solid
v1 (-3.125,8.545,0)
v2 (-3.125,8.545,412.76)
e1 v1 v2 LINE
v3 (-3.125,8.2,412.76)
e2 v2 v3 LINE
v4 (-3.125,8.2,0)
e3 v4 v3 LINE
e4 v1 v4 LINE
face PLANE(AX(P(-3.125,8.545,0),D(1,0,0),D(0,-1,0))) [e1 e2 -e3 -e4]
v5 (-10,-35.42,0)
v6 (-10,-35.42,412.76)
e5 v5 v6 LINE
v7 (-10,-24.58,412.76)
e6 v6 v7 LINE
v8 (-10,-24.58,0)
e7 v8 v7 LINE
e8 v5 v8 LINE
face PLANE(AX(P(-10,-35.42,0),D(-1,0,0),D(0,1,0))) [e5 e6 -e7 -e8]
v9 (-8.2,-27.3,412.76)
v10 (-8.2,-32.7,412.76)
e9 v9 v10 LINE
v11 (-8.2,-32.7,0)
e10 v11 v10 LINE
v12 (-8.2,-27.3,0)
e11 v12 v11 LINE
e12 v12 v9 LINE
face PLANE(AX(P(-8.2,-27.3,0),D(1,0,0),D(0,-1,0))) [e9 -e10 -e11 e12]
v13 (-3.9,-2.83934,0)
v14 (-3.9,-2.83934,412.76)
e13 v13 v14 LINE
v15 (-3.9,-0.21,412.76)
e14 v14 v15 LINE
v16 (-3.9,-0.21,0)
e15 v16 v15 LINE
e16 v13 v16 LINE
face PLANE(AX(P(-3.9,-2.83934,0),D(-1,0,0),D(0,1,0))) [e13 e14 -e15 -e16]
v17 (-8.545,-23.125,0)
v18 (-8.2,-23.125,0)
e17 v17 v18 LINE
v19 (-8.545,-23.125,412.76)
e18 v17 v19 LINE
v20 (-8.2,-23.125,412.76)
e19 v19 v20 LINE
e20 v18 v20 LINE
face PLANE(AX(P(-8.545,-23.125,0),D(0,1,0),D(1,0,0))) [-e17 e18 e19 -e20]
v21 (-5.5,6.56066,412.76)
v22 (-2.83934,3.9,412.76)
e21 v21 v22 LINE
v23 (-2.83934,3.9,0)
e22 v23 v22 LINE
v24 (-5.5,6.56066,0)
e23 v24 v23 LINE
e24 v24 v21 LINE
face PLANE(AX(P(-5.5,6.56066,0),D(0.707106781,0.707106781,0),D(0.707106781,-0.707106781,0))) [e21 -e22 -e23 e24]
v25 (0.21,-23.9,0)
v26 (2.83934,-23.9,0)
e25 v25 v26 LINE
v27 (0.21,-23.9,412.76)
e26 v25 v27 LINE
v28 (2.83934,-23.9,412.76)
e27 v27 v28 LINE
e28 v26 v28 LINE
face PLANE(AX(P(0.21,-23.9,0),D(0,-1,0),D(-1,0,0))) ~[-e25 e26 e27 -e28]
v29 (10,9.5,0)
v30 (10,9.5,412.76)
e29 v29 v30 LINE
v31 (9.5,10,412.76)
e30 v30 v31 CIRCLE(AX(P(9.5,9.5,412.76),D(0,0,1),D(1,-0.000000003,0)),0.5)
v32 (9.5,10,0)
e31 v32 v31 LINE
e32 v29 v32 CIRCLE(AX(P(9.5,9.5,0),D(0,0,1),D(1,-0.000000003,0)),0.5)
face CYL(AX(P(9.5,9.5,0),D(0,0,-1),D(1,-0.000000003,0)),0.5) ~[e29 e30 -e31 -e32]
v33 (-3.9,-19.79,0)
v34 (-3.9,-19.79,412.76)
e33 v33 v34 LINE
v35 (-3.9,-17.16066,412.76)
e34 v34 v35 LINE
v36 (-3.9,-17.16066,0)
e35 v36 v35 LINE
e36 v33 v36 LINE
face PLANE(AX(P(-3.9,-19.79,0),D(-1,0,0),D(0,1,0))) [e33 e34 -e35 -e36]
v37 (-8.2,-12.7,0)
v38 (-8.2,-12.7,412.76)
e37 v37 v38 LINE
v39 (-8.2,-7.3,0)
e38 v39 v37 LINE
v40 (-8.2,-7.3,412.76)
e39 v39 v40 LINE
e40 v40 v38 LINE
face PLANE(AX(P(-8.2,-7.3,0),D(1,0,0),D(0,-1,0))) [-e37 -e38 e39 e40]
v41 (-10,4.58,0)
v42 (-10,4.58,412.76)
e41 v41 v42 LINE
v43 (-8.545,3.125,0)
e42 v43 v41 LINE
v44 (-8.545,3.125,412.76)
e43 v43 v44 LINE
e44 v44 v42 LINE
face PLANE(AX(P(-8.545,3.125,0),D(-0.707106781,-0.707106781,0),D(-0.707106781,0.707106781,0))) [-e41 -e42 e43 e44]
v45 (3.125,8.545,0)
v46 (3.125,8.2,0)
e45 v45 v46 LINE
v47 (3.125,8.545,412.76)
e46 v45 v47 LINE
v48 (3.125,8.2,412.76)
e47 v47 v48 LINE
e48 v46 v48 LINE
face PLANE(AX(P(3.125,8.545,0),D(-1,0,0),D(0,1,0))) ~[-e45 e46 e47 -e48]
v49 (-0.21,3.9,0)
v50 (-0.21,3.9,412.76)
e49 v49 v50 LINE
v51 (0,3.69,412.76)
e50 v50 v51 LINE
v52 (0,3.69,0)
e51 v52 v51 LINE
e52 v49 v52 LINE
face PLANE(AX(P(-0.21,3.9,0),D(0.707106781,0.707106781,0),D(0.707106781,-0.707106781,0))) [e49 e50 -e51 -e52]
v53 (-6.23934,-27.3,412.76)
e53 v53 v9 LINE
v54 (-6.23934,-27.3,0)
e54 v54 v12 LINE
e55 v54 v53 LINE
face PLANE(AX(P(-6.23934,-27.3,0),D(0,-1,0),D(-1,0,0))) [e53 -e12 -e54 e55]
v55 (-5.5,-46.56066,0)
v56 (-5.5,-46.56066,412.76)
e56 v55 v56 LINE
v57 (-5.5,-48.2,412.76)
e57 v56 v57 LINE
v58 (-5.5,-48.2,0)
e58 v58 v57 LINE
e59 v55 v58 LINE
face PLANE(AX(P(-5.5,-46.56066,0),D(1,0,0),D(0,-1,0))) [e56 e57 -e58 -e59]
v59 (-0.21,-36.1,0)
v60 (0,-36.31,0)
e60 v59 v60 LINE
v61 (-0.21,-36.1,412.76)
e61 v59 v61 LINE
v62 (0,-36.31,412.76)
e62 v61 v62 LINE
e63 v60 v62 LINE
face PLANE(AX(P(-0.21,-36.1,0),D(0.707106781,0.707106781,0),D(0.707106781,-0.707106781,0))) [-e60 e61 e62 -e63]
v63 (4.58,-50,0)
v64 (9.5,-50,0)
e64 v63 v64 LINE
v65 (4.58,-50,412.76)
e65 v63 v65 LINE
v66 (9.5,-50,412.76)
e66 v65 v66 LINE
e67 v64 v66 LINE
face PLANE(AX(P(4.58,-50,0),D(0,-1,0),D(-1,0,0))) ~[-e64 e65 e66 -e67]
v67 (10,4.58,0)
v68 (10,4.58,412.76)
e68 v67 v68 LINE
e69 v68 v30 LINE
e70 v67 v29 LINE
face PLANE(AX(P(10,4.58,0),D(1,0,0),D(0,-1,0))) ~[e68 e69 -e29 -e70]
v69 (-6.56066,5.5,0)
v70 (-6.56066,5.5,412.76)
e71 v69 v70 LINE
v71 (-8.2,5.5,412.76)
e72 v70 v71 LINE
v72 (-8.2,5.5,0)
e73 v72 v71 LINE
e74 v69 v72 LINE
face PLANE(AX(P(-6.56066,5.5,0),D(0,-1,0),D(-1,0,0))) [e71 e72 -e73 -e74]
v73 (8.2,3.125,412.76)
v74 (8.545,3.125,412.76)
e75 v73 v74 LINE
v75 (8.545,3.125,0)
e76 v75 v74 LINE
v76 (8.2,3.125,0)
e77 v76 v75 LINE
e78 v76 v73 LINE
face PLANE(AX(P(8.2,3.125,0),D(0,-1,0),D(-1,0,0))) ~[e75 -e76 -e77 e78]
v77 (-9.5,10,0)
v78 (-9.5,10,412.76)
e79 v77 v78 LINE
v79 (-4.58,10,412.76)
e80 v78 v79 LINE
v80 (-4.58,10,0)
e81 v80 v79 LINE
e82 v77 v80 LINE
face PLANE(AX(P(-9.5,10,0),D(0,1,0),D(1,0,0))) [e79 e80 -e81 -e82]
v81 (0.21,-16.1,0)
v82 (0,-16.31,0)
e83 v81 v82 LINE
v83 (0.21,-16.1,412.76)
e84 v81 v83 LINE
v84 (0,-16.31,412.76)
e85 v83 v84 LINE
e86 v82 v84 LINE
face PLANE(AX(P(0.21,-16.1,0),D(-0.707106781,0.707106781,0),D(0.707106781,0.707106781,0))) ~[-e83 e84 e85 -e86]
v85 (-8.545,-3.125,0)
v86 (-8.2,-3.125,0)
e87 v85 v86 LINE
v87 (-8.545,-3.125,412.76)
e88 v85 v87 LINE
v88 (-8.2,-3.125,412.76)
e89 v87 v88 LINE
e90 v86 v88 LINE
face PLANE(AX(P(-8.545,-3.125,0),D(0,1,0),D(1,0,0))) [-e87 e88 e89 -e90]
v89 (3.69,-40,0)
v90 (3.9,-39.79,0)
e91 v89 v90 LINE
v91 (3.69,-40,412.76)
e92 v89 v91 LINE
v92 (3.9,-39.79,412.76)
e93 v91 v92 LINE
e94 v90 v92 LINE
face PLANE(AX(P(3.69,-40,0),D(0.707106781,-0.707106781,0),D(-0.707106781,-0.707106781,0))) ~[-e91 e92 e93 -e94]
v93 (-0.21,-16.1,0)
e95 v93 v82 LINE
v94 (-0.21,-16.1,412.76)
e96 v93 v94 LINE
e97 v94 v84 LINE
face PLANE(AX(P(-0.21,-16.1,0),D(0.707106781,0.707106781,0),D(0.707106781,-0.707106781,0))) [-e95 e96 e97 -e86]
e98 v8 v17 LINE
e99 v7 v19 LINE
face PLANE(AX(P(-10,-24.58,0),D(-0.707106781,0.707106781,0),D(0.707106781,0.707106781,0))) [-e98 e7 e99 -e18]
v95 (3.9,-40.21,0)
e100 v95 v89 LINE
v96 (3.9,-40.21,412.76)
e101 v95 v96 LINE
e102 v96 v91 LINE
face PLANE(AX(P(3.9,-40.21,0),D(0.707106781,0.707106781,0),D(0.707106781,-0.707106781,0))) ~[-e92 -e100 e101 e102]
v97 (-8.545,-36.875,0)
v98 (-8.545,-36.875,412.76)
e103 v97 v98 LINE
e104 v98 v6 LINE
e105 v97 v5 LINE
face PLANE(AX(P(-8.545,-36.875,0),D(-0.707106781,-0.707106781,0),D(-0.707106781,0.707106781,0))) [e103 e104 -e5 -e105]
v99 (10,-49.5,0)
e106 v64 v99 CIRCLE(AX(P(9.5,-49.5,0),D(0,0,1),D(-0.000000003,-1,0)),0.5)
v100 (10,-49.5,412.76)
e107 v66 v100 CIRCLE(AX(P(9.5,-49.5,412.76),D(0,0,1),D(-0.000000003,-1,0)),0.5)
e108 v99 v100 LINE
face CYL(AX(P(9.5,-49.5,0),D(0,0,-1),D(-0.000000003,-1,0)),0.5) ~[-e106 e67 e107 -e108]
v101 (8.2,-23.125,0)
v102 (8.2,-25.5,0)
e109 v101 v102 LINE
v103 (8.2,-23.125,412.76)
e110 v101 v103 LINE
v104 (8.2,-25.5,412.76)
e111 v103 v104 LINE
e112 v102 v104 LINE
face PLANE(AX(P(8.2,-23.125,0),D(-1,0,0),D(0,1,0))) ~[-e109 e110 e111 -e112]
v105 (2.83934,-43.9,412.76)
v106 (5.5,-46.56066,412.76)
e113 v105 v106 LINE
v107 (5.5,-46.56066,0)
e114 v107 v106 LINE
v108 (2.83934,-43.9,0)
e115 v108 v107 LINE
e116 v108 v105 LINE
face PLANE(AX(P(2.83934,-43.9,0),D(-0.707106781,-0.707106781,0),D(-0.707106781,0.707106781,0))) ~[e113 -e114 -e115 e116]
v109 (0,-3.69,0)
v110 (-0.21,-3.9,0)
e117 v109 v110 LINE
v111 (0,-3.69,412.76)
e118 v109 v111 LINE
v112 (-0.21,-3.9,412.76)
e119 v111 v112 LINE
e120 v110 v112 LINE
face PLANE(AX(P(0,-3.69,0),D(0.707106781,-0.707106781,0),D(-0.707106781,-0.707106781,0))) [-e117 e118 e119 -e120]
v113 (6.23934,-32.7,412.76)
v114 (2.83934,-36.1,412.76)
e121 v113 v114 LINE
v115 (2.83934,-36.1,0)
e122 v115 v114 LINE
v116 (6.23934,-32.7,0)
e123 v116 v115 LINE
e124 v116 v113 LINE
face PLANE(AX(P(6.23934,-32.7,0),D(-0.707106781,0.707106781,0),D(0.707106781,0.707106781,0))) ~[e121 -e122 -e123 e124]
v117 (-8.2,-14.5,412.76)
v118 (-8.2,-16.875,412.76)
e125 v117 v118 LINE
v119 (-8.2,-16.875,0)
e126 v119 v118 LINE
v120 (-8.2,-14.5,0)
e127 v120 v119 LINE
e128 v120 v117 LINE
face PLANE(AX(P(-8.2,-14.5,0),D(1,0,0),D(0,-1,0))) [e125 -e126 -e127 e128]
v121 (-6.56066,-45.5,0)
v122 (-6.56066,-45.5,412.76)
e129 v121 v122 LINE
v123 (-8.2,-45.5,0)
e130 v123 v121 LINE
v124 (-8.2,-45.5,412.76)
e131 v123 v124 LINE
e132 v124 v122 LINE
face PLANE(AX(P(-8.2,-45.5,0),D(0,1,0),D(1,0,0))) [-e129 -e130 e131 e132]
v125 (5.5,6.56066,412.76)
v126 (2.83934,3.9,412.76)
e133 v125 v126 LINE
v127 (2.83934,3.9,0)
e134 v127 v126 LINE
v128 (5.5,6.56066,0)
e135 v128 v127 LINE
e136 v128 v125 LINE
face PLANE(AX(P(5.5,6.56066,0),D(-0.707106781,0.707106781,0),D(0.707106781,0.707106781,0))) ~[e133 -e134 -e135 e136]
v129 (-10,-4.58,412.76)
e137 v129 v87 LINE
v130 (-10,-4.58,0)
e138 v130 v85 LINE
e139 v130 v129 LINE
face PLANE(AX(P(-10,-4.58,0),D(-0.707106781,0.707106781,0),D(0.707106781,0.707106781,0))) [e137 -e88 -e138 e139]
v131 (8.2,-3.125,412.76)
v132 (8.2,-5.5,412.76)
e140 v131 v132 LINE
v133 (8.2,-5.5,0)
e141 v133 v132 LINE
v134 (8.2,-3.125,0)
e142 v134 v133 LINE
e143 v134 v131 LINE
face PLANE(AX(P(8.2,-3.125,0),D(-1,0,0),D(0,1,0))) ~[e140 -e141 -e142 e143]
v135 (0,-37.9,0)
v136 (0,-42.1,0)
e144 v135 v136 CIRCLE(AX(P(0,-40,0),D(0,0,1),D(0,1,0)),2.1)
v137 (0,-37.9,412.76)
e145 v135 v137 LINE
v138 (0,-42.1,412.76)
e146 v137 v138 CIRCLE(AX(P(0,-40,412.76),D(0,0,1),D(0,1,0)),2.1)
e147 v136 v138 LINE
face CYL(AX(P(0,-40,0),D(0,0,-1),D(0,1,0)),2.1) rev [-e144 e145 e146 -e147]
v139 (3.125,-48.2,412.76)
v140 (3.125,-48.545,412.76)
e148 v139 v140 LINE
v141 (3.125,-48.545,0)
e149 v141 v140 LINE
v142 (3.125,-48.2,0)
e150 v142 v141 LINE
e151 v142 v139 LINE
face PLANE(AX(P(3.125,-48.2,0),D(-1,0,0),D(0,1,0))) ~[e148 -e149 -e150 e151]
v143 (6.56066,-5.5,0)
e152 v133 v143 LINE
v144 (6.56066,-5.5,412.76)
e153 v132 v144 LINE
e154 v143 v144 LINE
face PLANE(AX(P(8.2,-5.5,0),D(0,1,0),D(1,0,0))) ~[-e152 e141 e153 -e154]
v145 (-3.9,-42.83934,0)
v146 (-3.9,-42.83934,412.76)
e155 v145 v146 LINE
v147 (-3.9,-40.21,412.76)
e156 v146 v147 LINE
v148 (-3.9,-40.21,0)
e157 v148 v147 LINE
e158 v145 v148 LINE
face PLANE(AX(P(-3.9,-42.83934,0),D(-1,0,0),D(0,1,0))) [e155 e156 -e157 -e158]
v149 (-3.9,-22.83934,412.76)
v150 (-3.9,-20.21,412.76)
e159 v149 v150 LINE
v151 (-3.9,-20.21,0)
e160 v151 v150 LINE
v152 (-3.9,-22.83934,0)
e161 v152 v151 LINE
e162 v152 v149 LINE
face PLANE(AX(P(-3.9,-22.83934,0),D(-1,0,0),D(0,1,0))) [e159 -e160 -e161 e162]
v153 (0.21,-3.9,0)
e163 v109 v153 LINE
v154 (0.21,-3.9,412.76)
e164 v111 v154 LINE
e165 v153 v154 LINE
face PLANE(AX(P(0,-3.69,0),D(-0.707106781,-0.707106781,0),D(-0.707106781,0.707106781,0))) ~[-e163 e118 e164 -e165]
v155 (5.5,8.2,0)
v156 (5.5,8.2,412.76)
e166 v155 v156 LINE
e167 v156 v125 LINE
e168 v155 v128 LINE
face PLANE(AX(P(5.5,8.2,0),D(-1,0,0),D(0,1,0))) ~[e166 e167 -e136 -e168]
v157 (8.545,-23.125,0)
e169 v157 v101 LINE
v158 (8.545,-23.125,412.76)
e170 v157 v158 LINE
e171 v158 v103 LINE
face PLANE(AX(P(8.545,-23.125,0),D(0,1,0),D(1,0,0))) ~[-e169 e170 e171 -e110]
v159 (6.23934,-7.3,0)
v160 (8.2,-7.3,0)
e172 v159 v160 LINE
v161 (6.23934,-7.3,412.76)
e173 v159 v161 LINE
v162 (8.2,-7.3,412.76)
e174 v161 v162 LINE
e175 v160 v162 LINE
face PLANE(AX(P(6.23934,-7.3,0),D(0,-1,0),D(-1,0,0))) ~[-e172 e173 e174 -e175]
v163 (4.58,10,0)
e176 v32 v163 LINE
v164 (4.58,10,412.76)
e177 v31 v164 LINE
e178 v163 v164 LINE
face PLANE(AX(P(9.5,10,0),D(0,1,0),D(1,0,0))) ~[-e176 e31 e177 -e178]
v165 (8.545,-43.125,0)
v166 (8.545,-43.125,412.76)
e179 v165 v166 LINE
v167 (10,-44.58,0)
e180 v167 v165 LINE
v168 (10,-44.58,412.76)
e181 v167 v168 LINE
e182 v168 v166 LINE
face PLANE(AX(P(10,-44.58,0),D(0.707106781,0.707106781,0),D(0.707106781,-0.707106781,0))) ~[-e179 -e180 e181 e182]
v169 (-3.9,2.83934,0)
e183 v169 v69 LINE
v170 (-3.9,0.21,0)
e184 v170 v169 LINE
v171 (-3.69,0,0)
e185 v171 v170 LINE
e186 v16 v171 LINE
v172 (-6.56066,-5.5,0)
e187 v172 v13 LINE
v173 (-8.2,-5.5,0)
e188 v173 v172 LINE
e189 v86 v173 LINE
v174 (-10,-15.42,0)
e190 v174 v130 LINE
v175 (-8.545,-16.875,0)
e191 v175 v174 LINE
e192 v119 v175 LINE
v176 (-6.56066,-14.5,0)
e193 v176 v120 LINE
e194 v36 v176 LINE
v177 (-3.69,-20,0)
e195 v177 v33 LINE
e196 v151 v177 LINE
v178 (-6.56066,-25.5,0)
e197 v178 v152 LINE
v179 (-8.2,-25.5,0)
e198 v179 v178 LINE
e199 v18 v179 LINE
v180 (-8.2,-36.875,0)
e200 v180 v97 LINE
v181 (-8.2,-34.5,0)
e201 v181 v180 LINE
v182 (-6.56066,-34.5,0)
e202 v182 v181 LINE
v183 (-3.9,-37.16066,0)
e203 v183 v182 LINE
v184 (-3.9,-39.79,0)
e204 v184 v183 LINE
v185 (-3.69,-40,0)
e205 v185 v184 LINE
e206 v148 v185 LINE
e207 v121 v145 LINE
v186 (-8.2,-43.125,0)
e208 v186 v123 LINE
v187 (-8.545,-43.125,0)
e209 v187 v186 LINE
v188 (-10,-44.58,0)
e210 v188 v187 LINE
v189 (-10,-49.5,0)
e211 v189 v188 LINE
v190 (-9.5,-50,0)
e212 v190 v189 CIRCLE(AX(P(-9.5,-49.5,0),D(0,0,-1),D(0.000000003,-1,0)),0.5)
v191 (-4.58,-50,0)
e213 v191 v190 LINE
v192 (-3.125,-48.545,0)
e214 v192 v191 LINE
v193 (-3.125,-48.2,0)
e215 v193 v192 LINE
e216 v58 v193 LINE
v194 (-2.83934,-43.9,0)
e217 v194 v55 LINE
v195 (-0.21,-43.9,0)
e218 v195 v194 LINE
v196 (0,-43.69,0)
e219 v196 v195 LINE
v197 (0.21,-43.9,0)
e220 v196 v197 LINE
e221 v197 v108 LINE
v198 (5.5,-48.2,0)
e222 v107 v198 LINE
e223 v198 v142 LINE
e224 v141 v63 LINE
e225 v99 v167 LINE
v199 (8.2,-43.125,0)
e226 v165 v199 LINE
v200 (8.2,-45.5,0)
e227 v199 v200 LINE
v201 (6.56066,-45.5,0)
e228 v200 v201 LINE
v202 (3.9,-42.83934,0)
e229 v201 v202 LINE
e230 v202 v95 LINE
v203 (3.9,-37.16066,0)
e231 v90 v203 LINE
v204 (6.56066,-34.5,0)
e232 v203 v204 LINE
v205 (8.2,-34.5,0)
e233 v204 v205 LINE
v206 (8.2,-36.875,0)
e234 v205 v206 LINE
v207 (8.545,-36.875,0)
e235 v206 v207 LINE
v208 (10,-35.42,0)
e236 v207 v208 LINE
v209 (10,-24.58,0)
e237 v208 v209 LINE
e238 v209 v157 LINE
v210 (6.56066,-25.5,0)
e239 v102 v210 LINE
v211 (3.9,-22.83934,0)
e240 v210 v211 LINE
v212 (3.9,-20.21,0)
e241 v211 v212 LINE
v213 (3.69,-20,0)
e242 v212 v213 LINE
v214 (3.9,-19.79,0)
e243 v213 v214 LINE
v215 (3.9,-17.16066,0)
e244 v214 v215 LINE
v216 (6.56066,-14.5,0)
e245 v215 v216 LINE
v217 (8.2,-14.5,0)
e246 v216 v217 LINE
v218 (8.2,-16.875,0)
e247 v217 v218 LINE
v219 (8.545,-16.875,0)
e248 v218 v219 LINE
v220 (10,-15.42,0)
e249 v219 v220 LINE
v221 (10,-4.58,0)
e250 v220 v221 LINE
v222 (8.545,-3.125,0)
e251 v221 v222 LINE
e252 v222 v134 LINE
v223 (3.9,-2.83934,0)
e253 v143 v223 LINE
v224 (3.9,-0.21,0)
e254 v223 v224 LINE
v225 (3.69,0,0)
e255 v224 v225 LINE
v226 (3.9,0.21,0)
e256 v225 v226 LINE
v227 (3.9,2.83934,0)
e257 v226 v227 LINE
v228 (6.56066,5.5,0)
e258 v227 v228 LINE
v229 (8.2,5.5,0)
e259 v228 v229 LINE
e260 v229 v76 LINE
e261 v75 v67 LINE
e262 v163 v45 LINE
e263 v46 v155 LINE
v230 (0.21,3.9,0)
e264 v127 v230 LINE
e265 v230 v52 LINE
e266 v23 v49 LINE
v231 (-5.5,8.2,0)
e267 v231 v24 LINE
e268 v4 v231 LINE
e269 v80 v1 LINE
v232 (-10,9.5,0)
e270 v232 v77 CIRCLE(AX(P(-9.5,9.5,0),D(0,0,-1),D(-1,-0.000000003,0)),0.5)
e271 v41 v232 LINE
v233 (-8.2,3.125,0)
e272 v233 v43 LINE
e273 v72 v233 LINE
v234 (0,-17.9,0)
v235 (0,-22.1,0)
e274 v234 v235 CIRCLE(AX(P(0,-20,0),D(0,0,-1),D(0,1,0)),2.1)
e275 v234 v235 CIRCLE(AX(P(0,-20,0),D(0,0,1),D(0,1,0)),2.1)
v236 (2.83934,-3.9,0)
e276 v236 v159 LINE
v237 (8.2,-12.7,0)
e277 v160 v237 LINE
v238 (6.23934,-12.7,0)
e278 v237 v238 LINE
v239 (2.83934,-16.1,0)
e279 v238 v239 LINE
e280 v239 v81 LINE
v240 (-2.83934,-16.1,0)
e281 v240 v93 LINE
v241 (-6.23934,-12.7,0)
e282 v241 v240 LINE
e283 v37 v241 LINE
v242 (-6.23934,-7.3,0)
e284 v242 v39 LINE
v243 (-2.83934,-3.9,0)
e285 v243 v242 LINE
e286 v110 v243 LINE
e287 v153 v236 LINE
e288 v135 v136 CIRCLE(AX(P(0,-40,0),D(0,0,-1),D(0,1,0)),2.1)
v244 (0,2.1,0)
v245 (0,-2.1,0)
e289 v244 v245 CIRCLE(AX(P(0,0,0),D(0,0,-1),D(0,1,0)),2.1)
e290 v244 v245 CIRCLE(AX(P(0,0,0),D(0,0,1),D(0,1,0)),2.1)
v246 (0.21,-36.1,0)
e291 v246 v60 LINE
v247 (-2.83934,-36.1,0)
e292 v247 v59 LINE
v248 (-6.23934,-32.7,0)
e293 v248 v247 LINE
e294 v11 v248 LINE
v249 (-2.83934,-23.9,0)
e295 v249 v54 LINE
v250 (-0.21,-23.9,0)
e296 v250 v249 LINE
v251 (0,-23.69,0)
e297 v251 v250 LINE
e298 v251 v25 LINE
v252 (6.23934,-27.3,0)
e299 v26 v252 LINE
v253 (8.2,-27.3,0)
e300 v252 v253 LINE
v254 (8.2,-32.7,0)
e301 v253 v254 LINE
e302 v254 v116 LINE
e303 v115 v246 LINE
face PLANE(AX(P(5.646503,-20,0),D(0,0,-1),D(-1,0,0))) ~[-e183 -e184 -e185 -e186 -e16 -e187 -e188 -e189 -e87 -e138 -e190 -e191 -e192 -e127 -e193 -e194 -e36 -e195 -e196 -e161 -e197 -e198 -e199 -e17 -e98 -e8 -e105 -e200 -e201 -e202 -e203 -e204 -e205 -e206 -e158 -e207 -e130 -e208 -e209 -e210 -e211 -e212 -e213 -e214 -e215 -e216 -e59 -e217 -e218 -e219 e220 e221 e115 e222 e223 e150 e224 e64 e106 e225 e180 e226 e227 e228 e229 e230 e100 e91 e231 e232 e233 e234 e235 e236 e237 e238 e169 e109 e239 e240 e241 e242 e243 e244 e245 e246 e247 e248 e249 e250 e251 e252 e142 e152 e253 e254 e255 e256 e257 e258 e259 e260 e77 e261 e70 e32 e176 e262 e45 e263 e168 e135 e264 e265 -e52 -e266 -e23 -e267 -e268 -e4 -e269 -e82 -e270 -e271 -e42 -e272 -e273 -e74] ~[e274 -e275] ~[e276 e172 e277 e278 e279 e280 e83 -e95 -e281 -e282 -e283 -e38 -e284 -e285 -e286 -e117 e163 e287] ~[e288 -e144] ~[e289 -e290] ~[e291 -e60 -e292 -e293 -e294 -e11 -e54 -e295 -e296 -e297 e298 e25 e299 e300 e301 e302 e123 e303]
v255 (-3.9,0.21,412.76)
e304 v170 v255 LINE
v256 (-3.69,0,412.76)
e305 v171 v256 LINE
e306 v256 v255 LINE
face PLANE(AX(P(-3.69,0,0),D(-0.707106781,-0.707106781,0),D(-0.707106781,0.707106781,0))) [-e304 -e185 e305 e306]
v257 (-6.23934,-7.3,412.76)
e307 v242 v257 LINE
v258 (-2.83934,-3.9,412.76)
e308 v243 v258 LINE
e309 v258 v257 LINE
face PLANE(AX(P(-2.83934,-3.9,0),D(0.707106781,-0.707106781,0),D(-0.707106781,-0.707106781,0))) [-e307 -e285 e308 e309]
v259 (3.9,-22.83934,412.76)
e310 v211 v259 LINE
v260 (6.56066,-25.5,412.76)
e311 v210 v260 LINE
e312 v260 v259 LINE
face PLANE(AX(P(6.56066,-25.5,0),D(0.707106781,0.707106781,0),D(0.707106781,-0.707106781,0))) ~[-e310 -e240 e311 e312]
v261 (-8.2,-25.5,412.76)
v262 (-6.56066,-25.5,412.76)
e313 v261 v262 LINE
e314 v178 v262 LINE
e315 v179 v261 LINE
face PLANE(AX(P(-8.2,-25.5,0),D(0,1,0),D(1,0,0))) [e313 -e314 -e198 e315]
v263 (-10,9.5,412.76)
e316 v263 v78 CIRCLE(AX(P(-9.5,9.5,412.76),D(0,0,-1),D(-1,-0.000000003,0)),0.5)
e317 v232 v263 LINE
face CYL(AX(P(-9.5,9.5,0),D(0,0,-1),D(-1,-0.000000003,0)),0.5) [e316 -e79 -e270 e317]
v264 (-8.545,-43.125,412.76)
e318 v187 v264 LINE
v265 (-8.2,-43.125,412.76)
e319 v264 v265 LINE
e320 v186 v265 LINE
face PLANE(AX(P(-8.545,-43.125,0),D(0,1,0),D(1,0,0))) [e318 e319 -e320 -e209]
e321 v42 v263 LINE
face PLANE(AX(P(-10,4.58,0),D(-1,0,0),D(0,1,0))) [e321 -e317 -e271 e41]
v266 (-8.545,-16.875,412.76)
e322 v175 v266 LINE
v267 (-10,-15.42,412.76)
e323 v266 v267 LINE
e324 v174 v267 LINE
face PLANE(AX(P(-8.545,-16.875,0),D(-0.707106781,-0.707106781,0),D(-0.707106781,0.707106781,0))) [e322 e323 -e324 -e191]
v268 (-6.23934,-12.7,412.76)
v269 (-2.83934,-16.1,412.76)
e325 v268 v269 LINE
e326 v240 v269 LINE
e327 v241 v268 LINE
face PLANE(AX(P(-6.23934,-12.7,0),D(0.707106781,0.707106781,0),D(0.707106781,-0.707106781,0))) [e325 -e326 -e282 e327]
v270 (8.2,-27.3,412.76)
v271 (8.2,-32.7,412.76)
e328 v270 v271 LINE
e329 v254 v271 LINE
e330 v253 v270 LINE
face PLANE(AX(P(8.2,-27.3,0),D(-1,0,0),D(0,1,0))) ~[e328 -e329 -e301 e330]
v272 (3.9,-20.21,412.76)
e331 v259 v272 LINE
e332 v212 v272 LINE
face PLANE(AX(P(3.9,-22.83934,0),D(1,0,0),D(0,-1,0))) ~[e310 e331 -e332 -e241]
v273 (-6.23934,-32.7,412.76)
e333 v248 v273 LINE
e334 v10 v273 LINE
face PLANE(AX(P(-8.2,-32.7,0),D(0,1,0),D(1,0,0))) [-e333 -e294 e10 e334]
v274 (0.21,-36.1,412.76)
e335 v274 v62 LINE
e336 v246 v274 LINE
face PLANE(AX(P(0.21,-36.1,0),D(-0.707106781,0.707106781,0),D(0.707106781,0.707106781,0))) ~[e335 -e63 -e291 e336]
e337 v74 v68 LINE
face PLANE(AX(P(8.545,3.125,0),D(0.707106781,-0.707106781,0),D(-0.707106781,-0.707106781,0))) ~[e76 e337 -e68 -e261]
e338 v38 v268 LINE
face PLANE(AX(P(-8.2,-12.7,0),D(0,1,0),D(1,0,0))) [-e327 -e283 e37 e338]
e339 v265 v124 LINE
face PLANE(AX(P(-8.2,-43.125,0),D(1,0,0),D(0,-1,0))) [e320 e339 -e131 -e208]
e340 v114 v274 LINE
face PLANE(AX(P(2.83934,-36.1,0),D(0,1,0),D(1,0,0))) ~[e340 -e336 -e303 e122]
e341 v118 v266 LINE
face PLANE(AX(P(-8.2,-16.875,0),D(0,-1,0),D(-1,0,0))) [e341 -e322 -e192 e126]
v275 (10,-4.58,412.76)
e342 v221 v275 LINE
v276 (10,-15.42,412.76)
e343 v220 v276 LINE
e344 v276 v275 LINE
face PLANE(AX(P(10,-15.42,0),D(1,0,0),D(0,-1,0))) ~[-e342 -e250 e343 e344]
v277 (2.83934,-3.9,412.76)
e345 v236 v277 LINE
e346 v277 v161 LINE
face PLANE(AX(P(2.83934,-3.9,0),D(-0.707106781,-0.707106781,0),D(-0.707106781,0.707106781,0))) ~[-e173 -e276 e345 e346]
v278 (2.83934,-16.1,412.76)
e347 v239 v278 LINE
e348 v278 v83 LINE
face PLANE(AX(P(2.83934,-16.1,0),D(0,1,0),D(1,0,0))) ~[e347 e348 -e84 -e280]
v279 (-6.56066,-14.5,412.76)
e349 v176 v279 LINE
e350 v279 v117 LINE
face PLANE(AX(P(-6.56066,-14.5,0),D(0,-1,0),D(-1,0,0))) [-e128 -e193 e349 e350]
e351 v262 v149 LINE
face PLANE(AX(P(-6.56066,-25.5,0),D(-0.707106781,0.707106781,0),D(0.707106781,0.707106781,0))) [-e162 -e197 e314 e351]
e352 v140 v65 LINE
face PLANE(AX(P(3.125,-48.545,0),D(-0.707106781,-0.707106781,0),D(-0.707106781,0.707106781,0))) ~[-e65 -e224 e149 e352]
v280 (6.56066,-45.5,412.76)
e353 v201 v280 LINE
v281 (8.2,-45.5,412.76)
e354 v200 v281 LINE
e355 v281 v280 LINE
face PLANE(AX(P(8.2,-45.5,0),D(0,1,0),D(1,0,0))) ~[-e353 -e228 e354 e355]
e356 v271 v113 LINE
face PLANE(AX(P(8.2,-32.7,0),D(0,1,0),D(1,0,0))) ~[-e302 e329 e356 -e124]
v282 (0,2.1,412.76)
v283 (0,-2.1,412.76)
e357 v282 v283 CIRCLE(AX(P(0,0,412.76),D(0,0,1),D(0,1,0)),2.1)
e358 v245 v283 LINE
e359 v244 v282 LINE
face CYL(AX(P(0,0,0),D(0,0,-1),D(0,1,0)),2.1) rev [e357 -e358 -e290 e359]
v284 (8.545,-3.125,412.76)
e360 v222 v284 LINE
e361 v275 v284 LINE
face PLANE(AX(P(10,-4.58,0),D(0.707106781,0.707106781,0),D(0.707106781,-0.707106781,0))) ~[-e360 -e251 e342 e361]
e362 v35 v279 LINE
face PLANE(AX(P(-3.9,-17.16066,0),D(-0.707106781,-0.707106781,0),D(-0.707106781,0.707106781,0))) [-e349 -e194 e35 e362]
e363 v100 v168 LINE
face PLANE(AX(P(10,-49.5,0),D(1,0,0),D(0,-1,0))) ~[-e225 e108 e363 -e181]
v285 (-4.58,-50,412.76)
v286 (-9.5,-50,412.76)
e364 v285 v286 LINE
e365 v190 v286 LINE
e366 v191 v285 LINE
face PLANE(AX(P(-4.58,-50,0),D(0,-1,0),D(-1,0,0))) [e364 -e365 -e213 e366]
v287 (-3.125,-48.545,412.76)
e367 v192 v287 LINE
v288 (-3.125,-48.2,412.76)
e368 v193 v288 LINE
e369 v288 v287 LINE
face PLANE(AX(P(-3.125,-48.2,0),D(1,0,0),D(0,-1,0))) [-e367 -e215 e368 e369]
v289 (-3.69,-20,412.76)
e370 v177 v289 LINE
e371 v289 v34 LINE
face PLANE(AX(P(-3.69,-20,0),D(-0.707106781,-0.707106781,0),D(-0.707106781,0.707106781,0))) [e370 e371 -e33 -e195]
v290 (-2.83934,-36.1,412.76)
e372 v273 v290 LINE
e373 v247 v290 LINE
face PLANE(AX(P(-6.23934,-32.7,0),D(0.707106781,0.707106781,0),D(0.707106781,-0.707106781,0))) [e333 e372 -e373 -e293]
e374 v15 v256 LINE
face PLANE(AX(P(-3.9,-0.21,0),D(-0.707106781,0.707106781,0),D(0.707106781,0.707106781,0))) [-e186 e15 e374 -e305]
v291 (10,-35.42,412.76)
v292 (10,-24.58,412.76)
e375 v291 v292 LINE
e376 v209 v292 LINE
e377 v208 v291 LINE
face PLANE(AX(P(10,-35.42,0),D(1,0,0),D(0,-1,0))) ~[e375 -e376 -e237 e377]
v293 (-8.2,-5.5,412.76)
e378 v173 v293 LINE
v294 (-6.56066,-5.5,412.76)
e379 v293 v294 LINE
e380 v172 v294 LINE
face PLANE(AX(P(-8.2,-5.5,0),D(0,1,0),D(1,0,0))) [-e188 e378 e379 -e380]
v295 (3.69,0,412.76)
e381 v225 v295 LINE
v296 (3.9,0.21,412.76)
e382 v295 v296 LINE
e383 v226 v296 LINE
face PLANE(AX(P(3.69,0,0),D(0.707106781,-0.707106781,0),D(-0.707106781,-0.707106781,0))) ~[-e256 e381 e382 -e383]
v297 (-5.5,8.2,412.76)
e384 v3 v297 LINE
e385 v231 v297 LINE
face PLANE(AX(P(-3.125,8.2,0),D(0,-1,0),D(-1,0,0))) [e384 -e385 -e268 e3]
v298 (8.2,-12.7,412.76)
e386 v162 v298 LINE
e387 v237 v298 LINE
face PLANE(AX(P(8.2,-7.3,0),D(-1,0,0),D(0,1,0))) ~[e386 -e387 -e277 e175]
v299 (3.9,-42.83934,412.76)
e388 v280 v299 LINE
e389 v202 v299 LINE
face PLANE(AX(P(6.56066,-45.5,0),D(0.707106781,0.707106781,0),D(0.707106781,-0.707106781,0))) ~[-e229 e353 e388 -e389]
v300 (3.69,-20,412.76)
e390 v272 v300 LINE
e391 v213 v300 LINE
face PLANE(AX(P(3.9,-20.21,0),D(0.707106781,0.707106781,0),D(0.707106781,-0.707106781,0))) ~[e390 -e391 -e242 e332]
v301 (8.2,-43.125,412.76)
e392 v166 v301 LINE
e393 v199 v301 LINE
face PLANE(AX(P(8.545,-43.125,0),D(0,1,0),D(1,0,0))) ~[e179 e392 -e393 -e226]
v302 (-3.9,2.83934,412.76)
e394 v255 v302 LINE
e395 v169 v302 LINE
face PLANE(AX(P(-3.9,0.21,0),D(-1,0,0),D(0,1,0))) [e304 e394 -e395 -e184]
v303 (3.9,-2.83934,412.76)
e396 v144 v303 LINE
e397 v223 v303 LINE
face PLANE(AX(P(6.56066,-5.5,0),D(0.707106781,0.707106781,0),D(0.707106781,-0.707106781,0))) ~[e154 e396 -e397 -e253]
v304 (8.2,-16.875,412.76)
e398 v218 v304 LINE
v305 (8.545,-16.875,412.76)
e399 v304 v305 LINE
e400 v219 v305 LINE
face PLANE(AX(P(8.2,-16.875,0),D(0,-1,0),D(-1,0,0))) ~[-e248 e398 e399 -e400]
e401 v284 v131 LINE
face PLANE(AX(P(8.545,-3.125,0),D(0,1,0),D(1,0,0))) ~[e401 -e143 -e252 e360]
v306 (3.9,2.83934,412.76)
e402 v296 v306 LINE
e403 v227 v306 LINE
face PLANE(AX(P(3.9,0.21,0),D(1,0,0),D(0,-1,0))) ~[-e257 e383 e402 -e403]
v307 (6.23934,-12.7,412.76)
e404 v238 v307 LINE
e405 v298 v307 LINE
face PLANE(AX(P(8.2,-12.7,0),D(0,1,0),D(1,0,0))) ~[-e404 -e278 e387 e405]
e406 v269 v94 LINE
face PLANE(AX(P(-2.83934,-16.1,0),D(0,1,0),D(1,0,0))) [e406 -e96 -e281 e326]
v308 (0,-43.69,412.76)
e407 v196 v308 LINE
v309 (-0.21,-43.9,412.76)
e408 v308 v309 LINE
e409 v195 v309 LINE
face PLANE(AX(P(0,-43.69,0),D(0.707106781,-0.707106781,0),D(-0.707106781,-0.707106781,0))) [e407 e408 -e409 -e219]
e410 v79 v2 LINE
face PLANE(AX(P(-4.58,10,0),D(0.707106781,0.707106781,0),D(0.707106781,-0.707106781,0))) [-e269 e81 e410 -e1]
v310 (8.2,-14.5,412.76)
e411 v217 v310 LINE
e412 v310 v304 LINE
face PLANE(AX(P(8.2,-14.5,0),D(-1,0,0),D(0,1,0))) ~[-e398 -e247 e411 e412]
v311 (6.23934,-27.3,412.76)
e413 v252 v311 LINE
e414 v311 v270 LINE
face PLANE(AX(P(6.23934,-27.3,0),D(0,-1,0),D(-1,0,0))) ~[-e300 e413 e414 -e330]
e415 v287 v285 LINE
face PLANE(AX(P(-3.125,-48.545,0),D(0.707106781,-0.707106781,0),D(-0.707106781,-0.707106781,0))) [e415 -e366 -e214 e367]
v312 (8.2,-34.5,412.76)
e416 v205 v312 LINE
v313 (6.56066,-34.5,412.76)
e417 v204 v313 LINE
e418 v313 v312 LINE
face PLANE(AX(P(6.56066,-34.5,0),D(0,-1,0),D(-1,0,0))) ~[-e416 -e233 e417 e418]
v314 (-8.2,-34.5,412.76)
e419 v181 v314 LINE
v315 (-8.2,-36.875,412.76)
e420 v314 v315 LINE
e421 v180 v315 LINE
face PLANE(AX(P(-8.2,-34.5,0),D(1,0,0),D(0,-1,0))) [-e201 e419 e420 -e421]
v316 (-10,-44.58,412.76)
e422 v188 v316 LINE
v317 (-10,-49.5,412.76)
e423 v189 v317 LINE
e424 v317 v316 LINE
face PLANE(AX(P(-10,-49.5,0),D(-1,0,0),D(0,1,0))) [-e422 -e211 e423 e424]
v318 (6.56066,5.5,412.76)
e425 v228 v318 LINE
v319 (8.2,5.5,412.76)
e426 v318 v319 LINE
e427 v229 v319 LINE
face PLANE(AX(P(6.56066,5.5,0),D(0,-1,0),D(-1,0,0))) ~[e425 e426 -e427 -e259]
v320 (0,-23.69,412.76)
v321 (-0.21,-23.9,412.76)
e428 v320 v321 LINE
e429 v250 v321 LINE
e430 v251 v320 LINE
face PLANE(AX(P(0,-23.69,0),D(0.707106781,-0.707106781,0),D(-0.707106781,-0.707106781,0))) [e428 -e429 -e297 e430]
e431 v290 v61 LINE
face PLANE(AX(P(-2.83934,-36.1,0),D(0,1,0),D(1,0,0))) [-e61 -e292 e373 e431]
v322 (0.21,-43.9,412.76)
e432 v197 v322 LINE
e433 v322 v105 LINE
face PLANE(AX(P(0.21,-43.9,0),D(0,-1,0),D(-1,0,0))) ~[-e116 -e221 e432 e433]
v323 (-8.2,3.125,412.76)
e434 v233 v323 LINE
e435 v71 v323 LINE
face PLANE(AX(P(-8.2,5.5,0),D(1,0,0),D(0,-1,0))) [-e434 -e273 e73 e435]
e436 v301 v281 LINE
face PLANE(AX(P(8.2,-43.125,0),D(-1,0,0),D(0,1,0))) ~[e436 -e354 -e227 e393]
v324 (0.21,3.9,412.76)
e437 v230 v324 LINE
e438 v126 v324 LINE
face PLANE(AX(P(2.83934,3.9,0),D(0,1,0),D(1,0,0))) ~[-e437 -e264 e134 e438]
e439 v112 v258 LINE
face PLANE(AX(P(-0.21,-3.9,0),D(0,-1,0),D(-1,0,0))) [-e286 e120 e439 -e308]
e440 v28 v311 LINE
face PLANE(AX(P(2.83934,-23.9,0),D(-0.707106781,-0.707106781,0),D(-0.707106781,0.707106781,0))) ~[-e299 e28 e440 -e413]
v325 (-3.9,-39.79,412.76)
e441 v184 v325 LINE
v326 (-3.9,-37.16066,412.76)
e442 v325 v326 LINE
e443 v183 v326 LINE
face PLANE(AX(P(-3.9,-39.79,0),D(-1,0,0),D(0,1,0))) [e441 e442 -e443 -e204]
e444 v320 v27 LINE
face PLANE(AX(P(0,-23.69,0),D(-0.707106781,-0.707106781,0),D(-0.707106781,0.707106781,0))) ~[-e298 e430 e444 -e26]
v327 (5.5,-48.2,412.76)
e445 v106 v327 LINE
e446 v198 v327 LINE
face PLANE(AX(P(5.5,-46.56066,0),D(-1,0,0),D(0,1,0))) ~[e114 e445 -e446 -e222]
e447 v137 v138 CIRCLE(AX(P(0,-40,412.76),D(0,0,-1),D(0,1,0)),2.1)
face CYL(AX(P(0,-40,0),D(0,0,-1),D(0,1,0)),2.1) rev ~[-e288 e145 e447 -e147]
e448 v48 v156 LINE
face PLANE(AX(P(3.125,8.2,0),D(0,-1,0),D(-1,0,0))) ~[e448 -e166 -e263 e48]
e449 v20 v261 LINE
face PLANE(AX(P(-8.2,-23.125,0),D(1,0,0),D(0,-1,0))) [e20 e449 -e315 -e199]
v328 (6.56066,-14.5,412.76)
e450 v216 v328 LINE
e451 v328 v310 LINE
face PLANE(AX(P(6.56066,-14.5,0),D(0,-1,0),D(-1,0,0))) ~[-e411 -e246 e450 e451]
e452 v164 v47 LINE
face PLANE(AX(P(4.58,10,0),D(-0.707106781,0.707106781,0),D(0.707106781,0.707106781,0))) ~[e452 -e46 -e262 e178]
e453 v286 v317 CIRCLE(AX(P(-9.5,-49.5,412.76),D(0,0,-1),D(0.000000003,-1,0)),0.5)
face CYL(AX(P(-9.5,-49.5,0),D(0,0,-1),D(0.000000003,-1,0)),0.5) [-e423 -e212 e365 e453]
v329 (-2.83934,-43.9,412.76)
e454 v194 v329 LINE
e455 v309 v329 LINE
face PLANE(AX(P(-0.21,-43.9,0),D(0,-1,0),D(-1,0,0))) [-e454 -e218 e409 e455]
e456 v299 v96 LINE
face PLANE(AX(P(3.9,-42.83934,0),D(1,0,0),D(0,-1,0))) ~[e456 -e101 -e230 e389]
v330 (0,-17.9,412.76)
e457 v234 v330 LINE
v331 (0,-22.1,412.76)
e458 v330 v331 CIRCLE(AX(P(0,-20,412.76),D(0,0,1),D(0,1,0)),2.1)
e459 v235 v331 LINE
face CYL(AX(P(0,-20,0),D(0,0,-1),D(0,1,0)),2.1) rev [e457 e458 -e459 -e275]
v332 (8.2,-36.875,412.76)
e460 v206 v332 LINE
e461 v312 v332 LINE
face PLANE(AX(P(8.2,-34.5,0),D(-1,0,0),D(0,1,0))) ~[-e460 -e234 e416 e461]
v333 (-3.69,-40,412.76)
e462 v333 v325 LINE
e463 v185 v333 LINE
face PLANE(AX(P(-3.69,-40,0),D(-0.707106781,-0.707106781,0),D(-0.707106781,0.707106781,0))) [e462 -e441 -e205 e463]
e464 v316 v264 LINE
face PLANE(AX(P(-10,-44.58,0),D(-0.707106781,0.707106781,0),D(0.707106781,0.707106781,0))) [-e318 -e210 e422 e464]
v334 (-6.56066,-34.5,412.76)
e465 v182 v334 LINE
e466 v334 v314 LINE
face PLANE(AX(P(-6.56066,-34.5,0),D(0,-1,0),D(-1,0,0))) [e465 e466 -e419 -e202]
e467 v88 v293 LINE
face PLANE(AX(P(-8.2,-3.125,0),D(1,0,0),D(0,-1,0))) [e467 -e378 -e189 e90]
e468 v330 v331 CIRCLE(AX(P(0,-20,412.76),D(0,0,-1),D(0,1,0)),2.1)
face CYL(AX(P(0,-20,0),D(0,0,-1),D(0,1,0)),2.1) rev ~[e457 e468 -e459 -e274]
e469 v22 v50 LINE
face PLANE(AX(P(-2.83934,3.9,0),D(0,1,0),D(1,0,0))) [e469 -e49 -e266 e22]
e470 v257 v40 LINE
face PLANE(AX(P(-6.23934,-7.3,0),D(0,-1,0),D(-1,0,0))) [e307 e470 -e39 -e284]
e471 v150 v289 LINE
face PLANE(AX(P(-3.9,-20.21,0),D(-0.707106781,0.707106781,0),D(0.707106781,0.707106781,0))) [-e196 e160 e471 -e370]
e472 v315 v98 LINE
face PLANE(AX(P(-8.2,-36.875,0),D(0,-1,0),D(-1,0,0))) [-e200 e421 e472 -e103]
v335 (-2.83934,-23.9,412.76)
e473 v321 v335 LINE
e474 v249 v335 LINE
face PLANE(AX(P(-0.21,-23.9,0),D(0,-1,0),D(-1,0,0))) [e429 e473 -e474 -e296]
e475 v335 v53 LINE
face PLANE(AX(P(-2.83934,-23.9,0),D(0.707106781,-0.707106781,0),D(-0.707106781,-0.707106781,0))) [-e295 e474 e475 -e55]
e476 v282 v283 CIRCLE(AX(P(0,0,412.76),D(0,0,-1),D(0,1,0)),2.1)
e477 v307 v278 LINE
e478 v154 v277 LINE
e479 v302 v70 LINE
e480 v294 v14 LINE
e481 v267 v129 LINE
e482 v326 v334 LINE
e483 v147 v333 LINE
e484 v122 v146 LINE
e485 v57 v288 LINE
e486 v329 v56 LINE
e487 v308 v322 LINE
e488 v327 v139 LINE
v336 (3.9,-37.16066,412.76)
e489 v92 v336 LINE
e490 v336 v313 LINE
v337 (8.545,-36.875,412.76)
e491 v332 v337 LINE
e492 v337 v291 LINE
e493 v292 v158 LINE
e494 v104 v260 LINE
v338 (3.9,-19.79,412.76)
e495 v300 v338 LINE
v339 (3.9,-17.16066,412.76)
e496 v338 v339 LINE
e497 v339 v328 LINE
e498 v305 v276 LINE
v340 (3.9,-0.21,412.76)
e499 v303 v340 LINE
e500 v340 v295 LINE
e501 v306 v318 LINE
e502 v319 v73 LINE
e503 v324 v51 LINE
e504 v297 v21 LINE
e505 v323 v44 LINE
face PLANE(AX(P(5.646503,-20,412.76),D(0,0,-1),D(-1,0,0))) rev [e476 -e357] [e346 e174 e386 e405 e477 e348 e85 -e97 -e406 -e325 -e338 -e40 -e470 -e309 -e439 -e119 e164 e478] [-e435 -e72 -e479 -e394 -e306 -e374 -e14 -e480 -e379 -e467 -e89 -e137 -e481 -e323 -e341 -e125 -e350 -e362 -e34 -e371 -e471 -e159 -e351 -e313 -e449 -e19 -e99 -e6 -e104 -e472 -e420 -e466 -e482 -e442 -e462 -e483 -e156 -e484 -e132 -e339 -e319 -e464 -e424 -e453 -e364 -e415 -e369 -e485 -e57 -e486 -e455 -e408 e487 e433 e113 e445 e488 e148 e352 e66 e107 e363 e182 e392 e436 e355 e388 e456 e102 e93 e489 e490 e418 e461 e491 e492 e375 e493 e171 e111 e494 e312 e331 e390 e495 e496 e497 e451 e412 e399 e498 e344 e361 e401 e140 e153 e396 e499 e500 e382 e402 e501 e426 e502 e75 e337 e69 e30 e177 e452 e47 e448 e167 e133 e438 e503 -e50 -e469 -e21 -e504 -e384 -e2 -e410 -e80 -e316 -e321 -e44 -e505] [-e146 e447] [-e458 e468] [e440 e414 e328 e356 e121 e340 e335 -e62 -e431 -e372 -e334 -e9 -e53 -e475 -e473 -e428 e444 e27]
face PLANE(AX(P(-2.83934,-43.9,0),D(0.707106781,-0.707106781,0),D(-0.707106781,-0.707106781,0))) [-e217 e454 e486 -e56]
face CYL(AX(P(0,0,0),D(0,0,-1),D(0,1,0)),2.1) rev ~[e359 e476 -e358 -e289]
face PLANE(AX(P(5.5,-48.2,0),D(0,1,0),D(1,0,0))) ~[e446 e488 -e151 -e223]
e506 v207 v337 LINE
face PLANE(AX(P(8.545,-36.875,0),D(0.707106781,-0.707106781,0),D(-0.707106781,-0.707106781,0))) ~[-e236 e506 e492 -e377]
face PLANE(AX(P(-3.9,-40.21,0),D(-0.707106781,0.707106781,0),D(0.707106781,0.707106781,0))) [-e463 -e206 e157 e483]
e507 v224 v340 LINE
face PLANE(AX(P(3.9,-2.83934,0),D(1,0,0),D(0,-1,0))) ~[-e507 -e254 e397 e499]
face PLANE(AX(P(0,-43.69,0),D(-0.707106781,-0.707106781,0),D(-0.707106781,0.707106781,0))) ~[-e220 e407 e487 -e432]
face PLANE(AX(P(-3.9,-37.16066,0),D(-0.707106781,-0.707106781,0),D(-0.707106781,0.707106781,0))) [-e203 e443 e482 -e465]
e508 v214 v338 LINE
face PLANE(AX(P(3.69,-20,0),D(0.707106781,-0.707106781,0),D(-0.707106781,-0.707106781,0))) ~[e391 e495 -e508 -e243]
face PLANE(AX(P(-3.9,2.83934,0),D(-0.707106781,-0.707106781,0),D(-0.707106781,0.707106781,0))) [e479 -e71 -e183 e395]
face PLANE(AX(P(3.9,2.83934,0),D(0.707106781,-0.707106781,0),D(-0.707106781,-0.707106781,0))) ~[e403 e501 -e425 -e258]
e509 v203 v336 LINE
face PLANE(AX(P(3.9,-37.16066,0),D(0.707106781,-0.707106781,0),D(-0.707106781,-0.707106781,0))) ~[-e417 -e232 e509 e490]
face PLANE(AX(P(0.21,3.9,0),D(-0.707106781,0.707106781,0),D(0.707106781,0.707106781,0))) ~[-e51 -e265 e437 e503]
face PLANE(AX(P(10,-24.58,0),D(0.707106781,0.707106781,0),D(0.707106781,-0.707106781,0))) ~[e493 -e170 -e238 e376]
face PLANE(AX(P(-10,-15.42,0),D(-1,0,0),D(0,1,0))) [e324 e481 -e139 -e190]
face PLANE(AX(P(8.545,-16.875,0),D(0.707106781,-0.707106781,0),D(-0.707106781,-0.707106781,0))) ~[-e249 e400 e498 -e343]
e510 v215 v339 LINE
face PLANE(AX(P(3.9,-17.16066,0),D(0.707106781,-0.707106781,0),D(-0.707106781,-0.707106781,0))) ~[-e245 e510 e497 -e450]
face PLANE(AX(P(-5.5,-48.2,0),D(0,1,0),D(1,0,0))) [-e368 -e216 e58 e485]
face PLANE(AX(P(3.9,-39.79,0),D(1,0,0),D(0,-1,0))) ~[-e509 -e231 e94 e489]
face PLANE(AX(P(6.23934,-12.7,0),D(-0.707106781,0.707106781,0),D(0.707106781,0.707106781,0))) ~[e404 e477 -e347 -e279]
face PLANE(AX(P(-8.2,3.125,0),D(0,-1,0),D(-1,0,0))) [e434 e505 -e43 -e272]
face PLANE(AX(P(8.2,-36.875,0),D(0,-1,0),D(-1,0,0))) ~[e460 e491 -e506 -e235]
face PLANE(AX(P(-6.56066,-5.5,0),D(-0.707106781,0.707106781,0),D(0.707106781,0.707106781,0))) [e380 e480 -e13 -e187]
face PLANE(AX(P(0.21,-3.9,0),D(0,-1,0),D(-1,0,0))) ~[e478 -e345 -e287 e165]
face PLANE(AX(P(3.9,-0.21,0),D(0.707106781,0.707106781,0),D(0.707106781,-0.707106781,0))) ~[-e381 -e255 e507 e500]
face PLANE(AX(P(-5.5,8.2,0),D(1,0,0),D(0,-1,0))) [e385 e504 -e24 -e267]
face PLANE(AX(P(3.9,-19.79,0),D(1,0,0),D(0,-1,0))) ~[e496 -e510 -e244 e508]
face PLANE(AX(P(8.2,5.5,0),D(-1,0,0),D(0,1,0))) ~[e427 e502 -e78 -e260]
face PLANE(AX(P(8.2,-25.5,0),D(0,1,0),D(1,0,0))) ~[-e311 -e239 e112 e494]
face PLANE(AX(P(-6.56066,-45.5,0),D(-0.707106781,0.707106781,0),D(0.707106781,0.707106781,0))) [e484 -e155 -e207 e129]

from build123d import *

# Parameters (mm, degrees)
BOSS_EXTRU_1_DEPTH = 412.76


with BuildPart() as part:
    # Esquisse1 → Boss.-Extru.1 (new body)
    with BuildSketch(Plane.XY):
        with BuildLine():
            Line((-9.5, 10), (-4.58, 10))
            Line((-4.58, 10), (-3.125, 8.545))
            Line((-3.125, 8.545), (-3.125, 8.2))
            Line((-3.125, 8.2), (-5.5, 8.2))
            Line((-5.5, 8.2), (-5.5, 6.560660172))
            Line((-5.5, 6.560660172), (-2.839339828, 3.9))
            Line((-2.839339828, 3.9), (-0.21, 3.9))
            Line((-0.21, 3.9), (0, 3.69))
            Line((0, 3.69), (0, 2.1))
            ThreePointArc((0, 2.1), (-2.1, 0), (0, -2.1))
            Line((0, -2.1), (0, -3.69))
            Line((0, -3.69), (-0.21, -3.9))
            Line((-0.21, -3.9), (-2.839339828, -3.9))
            Line((-2.839339828, -3.9), (-6.239339828, -7.3))
            Line((-6.239339828, -7.3), (-8.2, -7.3))
            Line((-8.2, -7.3), (-8.2, -12.7))
            Line((-8.2, -12.7), (-6.239339828, -12.7))
            Line((-6.239339828, -12.7), (-2.839339828, -16.1))
            Line((-2.839339828, -16.1), (-0.21, -16.1))
            Line((-0.21, -16.1), (0, -16.31))
            Line((0, -16.31), (0, -17.9))
            ThreePointArc((0, -17.9), (-2.1, -20), (0, -22.1))
            Line((0, -22.1), (0, -23.69))
            Line((0, -23.69), (-0.21, -23.9))
            Line((-0.21, -23.9), (-2.839339828, -23.9))
            Line((-2.839339828, -23.9), (-6.239339828, -27.3))
            Line((-6.239339828, -27.3), (-8.2, -27.3))
            Line((-8.2, -27.3), (-8.2, -32.7))
            Line((-8.2, -32.7), (-6.239339828, -32.7))
            Line((-6.239339828, -32.7), (-2.839339828, -36.1))
            Line((-2.839339828, -36.1), (-0.21, -36.1))
            Line((-0.21, -36.1), (0, -36.31))
            Line((0, -36.31), (0, -37.9))
            ThreePointArc((0, -37.9), (-2.1, -40), (0, -42.1))
            Line((0, -42.1), (0, -43.69))
            Line((0, -43.69), (-0.21, -43.9))
            Line((-0.21, -43.9), (-2.839339828, -43.9))
            Line((-2.839339828, -43.9), (-5.5, -46.560660172))
            Line((-5.5, -46.560660172), (-5.5, -48.2))
            Line((-5.5, -48.2), (-3.125, -48.2))
            Line((-3.125, -48.2), (-3.125, -48.545))
            Line((-3.125, -48.545), (-4.58, -50))
            Line((-4.58, -50), (-9.5, -50))
            ThreePointArc((-9.5, -50), (-9.853553391, -49.853553391), (-10, -49.5))
            Line((-10, -49.5), (-10, -44.58))
            Line((-10, -44.58), (-8.545, -43.125))
            Line((-8.545, -43.125), (-8.2, -43.125))
            Line((-8.2, -43.125), (-8.2, -45.5))
            Line((-8.2, -45.5), (-6.560660172, -45.5))
            Line((-6.560660172, -45.5), (-3.9, -42.839339828))
            Line((-3.9, -42.839339828), (-3.9, -40.21))
            Line((-3.9, -40.21), (-3.69, -40))
            Line((-3.69, -40), (-3.9, -39.79))
            Line((-3.9, -39.79), (-3.9, -37.160660172))
            Line((-3.9, -37.160660172), (-6.560660172, -34.5))
            Line((-6.560660172, -34.5), (-8.2, -34.5))
            Line((-8.2, -34.5), (-8.2, -36.875))
            Line((-8.2, -36.875), (-8.545, -36.875))
            Line((-8.545, -36.875), (-10, -35.42))
            Line((-10, -35.42), (-10, -24.58))
            Line((-10, -24.58), (-8.545, -23.125))
            Line((-8.545, -23.125), (-8.2, -23.125))
            Line((-8.2, -23.125), (-8.2, -25.5))
            Line((-8.2, -25.5), (-6.560660172, -25.5))
            Line((-6.560660172, -25.5), (-3.9, -22.839339828))
            Line((-3.9, -22.839339828), (-3.9, -20.21))
            Line((-3.9, -20.21), (-3.69, -20))
            Line((-3.69, -20), (-3.9, -19.79))
            Line((-3.9, -19.79), (-3.9, -17.160660172))
            Line((-3.9, -17.160660172), (-6.560660172, -14.5))
            Line((-6.560660172, -14.5), (-8.2, -14.5))
            Line((-8.2, -14.5), (-8.2, -16.875))
            Line((-8.2, -16.875), (-8.545, -16.875))
            Line((-8.545, -16.875), (-10, -15.42))
            Line((-10, -15.42), (-10, -4.58))
            Line((-10, -4.58), (-8.545, -3.125))
            Line((-8.545, -3.125), (-8.2, -3.125))
            Line((-8.2, -3.125), (-8.2, -5.5))
            Line((-8.2, -5.5), (-6.560660172, -5.5))
            Line((-6.560660172, -5.5), (-3.9, -2.839339828))
            Line((-3.9, -2.839339828), (-3.9, -0.21))
            Line((-3.9, -0.21), (-3.69, 0))
            Line((-3.69, 0), (-3.9, 0.21))
            Line((-3.9, 0.21), (-3.9, 2.839339828))
            Line((-3.9, 2.839339828), (-6.560660172, 5.5))
            Line((-6.560660172, 5.5), (-8.2, 5.5))
            Line((-8.2, 5.5), (-8.2, 3.125))
            Line((-8.2, 3.125), (-8.545, 3.125))
            Line((-8.545, 3.125), (-10, 4.58))
            Line((-10, 4.58), (-10, 9.5))
            ThreePointArc((-10, 9.5), (-9.853553391, 9.853553391), (-9.5, 10))
        make_face()
    boss_extru_1 = extrude(amount=BOSS_EXTRU_1_DEPTH)

    # Symétrie1: Boss.-Extru.1 across plane
    add(boss_extru_1.mirror(Plane(origin=(0, 3.69, 412.76), x_dir=(0, 0, 1), z_dir=(-1, 0, 0))))


solid = part.part
